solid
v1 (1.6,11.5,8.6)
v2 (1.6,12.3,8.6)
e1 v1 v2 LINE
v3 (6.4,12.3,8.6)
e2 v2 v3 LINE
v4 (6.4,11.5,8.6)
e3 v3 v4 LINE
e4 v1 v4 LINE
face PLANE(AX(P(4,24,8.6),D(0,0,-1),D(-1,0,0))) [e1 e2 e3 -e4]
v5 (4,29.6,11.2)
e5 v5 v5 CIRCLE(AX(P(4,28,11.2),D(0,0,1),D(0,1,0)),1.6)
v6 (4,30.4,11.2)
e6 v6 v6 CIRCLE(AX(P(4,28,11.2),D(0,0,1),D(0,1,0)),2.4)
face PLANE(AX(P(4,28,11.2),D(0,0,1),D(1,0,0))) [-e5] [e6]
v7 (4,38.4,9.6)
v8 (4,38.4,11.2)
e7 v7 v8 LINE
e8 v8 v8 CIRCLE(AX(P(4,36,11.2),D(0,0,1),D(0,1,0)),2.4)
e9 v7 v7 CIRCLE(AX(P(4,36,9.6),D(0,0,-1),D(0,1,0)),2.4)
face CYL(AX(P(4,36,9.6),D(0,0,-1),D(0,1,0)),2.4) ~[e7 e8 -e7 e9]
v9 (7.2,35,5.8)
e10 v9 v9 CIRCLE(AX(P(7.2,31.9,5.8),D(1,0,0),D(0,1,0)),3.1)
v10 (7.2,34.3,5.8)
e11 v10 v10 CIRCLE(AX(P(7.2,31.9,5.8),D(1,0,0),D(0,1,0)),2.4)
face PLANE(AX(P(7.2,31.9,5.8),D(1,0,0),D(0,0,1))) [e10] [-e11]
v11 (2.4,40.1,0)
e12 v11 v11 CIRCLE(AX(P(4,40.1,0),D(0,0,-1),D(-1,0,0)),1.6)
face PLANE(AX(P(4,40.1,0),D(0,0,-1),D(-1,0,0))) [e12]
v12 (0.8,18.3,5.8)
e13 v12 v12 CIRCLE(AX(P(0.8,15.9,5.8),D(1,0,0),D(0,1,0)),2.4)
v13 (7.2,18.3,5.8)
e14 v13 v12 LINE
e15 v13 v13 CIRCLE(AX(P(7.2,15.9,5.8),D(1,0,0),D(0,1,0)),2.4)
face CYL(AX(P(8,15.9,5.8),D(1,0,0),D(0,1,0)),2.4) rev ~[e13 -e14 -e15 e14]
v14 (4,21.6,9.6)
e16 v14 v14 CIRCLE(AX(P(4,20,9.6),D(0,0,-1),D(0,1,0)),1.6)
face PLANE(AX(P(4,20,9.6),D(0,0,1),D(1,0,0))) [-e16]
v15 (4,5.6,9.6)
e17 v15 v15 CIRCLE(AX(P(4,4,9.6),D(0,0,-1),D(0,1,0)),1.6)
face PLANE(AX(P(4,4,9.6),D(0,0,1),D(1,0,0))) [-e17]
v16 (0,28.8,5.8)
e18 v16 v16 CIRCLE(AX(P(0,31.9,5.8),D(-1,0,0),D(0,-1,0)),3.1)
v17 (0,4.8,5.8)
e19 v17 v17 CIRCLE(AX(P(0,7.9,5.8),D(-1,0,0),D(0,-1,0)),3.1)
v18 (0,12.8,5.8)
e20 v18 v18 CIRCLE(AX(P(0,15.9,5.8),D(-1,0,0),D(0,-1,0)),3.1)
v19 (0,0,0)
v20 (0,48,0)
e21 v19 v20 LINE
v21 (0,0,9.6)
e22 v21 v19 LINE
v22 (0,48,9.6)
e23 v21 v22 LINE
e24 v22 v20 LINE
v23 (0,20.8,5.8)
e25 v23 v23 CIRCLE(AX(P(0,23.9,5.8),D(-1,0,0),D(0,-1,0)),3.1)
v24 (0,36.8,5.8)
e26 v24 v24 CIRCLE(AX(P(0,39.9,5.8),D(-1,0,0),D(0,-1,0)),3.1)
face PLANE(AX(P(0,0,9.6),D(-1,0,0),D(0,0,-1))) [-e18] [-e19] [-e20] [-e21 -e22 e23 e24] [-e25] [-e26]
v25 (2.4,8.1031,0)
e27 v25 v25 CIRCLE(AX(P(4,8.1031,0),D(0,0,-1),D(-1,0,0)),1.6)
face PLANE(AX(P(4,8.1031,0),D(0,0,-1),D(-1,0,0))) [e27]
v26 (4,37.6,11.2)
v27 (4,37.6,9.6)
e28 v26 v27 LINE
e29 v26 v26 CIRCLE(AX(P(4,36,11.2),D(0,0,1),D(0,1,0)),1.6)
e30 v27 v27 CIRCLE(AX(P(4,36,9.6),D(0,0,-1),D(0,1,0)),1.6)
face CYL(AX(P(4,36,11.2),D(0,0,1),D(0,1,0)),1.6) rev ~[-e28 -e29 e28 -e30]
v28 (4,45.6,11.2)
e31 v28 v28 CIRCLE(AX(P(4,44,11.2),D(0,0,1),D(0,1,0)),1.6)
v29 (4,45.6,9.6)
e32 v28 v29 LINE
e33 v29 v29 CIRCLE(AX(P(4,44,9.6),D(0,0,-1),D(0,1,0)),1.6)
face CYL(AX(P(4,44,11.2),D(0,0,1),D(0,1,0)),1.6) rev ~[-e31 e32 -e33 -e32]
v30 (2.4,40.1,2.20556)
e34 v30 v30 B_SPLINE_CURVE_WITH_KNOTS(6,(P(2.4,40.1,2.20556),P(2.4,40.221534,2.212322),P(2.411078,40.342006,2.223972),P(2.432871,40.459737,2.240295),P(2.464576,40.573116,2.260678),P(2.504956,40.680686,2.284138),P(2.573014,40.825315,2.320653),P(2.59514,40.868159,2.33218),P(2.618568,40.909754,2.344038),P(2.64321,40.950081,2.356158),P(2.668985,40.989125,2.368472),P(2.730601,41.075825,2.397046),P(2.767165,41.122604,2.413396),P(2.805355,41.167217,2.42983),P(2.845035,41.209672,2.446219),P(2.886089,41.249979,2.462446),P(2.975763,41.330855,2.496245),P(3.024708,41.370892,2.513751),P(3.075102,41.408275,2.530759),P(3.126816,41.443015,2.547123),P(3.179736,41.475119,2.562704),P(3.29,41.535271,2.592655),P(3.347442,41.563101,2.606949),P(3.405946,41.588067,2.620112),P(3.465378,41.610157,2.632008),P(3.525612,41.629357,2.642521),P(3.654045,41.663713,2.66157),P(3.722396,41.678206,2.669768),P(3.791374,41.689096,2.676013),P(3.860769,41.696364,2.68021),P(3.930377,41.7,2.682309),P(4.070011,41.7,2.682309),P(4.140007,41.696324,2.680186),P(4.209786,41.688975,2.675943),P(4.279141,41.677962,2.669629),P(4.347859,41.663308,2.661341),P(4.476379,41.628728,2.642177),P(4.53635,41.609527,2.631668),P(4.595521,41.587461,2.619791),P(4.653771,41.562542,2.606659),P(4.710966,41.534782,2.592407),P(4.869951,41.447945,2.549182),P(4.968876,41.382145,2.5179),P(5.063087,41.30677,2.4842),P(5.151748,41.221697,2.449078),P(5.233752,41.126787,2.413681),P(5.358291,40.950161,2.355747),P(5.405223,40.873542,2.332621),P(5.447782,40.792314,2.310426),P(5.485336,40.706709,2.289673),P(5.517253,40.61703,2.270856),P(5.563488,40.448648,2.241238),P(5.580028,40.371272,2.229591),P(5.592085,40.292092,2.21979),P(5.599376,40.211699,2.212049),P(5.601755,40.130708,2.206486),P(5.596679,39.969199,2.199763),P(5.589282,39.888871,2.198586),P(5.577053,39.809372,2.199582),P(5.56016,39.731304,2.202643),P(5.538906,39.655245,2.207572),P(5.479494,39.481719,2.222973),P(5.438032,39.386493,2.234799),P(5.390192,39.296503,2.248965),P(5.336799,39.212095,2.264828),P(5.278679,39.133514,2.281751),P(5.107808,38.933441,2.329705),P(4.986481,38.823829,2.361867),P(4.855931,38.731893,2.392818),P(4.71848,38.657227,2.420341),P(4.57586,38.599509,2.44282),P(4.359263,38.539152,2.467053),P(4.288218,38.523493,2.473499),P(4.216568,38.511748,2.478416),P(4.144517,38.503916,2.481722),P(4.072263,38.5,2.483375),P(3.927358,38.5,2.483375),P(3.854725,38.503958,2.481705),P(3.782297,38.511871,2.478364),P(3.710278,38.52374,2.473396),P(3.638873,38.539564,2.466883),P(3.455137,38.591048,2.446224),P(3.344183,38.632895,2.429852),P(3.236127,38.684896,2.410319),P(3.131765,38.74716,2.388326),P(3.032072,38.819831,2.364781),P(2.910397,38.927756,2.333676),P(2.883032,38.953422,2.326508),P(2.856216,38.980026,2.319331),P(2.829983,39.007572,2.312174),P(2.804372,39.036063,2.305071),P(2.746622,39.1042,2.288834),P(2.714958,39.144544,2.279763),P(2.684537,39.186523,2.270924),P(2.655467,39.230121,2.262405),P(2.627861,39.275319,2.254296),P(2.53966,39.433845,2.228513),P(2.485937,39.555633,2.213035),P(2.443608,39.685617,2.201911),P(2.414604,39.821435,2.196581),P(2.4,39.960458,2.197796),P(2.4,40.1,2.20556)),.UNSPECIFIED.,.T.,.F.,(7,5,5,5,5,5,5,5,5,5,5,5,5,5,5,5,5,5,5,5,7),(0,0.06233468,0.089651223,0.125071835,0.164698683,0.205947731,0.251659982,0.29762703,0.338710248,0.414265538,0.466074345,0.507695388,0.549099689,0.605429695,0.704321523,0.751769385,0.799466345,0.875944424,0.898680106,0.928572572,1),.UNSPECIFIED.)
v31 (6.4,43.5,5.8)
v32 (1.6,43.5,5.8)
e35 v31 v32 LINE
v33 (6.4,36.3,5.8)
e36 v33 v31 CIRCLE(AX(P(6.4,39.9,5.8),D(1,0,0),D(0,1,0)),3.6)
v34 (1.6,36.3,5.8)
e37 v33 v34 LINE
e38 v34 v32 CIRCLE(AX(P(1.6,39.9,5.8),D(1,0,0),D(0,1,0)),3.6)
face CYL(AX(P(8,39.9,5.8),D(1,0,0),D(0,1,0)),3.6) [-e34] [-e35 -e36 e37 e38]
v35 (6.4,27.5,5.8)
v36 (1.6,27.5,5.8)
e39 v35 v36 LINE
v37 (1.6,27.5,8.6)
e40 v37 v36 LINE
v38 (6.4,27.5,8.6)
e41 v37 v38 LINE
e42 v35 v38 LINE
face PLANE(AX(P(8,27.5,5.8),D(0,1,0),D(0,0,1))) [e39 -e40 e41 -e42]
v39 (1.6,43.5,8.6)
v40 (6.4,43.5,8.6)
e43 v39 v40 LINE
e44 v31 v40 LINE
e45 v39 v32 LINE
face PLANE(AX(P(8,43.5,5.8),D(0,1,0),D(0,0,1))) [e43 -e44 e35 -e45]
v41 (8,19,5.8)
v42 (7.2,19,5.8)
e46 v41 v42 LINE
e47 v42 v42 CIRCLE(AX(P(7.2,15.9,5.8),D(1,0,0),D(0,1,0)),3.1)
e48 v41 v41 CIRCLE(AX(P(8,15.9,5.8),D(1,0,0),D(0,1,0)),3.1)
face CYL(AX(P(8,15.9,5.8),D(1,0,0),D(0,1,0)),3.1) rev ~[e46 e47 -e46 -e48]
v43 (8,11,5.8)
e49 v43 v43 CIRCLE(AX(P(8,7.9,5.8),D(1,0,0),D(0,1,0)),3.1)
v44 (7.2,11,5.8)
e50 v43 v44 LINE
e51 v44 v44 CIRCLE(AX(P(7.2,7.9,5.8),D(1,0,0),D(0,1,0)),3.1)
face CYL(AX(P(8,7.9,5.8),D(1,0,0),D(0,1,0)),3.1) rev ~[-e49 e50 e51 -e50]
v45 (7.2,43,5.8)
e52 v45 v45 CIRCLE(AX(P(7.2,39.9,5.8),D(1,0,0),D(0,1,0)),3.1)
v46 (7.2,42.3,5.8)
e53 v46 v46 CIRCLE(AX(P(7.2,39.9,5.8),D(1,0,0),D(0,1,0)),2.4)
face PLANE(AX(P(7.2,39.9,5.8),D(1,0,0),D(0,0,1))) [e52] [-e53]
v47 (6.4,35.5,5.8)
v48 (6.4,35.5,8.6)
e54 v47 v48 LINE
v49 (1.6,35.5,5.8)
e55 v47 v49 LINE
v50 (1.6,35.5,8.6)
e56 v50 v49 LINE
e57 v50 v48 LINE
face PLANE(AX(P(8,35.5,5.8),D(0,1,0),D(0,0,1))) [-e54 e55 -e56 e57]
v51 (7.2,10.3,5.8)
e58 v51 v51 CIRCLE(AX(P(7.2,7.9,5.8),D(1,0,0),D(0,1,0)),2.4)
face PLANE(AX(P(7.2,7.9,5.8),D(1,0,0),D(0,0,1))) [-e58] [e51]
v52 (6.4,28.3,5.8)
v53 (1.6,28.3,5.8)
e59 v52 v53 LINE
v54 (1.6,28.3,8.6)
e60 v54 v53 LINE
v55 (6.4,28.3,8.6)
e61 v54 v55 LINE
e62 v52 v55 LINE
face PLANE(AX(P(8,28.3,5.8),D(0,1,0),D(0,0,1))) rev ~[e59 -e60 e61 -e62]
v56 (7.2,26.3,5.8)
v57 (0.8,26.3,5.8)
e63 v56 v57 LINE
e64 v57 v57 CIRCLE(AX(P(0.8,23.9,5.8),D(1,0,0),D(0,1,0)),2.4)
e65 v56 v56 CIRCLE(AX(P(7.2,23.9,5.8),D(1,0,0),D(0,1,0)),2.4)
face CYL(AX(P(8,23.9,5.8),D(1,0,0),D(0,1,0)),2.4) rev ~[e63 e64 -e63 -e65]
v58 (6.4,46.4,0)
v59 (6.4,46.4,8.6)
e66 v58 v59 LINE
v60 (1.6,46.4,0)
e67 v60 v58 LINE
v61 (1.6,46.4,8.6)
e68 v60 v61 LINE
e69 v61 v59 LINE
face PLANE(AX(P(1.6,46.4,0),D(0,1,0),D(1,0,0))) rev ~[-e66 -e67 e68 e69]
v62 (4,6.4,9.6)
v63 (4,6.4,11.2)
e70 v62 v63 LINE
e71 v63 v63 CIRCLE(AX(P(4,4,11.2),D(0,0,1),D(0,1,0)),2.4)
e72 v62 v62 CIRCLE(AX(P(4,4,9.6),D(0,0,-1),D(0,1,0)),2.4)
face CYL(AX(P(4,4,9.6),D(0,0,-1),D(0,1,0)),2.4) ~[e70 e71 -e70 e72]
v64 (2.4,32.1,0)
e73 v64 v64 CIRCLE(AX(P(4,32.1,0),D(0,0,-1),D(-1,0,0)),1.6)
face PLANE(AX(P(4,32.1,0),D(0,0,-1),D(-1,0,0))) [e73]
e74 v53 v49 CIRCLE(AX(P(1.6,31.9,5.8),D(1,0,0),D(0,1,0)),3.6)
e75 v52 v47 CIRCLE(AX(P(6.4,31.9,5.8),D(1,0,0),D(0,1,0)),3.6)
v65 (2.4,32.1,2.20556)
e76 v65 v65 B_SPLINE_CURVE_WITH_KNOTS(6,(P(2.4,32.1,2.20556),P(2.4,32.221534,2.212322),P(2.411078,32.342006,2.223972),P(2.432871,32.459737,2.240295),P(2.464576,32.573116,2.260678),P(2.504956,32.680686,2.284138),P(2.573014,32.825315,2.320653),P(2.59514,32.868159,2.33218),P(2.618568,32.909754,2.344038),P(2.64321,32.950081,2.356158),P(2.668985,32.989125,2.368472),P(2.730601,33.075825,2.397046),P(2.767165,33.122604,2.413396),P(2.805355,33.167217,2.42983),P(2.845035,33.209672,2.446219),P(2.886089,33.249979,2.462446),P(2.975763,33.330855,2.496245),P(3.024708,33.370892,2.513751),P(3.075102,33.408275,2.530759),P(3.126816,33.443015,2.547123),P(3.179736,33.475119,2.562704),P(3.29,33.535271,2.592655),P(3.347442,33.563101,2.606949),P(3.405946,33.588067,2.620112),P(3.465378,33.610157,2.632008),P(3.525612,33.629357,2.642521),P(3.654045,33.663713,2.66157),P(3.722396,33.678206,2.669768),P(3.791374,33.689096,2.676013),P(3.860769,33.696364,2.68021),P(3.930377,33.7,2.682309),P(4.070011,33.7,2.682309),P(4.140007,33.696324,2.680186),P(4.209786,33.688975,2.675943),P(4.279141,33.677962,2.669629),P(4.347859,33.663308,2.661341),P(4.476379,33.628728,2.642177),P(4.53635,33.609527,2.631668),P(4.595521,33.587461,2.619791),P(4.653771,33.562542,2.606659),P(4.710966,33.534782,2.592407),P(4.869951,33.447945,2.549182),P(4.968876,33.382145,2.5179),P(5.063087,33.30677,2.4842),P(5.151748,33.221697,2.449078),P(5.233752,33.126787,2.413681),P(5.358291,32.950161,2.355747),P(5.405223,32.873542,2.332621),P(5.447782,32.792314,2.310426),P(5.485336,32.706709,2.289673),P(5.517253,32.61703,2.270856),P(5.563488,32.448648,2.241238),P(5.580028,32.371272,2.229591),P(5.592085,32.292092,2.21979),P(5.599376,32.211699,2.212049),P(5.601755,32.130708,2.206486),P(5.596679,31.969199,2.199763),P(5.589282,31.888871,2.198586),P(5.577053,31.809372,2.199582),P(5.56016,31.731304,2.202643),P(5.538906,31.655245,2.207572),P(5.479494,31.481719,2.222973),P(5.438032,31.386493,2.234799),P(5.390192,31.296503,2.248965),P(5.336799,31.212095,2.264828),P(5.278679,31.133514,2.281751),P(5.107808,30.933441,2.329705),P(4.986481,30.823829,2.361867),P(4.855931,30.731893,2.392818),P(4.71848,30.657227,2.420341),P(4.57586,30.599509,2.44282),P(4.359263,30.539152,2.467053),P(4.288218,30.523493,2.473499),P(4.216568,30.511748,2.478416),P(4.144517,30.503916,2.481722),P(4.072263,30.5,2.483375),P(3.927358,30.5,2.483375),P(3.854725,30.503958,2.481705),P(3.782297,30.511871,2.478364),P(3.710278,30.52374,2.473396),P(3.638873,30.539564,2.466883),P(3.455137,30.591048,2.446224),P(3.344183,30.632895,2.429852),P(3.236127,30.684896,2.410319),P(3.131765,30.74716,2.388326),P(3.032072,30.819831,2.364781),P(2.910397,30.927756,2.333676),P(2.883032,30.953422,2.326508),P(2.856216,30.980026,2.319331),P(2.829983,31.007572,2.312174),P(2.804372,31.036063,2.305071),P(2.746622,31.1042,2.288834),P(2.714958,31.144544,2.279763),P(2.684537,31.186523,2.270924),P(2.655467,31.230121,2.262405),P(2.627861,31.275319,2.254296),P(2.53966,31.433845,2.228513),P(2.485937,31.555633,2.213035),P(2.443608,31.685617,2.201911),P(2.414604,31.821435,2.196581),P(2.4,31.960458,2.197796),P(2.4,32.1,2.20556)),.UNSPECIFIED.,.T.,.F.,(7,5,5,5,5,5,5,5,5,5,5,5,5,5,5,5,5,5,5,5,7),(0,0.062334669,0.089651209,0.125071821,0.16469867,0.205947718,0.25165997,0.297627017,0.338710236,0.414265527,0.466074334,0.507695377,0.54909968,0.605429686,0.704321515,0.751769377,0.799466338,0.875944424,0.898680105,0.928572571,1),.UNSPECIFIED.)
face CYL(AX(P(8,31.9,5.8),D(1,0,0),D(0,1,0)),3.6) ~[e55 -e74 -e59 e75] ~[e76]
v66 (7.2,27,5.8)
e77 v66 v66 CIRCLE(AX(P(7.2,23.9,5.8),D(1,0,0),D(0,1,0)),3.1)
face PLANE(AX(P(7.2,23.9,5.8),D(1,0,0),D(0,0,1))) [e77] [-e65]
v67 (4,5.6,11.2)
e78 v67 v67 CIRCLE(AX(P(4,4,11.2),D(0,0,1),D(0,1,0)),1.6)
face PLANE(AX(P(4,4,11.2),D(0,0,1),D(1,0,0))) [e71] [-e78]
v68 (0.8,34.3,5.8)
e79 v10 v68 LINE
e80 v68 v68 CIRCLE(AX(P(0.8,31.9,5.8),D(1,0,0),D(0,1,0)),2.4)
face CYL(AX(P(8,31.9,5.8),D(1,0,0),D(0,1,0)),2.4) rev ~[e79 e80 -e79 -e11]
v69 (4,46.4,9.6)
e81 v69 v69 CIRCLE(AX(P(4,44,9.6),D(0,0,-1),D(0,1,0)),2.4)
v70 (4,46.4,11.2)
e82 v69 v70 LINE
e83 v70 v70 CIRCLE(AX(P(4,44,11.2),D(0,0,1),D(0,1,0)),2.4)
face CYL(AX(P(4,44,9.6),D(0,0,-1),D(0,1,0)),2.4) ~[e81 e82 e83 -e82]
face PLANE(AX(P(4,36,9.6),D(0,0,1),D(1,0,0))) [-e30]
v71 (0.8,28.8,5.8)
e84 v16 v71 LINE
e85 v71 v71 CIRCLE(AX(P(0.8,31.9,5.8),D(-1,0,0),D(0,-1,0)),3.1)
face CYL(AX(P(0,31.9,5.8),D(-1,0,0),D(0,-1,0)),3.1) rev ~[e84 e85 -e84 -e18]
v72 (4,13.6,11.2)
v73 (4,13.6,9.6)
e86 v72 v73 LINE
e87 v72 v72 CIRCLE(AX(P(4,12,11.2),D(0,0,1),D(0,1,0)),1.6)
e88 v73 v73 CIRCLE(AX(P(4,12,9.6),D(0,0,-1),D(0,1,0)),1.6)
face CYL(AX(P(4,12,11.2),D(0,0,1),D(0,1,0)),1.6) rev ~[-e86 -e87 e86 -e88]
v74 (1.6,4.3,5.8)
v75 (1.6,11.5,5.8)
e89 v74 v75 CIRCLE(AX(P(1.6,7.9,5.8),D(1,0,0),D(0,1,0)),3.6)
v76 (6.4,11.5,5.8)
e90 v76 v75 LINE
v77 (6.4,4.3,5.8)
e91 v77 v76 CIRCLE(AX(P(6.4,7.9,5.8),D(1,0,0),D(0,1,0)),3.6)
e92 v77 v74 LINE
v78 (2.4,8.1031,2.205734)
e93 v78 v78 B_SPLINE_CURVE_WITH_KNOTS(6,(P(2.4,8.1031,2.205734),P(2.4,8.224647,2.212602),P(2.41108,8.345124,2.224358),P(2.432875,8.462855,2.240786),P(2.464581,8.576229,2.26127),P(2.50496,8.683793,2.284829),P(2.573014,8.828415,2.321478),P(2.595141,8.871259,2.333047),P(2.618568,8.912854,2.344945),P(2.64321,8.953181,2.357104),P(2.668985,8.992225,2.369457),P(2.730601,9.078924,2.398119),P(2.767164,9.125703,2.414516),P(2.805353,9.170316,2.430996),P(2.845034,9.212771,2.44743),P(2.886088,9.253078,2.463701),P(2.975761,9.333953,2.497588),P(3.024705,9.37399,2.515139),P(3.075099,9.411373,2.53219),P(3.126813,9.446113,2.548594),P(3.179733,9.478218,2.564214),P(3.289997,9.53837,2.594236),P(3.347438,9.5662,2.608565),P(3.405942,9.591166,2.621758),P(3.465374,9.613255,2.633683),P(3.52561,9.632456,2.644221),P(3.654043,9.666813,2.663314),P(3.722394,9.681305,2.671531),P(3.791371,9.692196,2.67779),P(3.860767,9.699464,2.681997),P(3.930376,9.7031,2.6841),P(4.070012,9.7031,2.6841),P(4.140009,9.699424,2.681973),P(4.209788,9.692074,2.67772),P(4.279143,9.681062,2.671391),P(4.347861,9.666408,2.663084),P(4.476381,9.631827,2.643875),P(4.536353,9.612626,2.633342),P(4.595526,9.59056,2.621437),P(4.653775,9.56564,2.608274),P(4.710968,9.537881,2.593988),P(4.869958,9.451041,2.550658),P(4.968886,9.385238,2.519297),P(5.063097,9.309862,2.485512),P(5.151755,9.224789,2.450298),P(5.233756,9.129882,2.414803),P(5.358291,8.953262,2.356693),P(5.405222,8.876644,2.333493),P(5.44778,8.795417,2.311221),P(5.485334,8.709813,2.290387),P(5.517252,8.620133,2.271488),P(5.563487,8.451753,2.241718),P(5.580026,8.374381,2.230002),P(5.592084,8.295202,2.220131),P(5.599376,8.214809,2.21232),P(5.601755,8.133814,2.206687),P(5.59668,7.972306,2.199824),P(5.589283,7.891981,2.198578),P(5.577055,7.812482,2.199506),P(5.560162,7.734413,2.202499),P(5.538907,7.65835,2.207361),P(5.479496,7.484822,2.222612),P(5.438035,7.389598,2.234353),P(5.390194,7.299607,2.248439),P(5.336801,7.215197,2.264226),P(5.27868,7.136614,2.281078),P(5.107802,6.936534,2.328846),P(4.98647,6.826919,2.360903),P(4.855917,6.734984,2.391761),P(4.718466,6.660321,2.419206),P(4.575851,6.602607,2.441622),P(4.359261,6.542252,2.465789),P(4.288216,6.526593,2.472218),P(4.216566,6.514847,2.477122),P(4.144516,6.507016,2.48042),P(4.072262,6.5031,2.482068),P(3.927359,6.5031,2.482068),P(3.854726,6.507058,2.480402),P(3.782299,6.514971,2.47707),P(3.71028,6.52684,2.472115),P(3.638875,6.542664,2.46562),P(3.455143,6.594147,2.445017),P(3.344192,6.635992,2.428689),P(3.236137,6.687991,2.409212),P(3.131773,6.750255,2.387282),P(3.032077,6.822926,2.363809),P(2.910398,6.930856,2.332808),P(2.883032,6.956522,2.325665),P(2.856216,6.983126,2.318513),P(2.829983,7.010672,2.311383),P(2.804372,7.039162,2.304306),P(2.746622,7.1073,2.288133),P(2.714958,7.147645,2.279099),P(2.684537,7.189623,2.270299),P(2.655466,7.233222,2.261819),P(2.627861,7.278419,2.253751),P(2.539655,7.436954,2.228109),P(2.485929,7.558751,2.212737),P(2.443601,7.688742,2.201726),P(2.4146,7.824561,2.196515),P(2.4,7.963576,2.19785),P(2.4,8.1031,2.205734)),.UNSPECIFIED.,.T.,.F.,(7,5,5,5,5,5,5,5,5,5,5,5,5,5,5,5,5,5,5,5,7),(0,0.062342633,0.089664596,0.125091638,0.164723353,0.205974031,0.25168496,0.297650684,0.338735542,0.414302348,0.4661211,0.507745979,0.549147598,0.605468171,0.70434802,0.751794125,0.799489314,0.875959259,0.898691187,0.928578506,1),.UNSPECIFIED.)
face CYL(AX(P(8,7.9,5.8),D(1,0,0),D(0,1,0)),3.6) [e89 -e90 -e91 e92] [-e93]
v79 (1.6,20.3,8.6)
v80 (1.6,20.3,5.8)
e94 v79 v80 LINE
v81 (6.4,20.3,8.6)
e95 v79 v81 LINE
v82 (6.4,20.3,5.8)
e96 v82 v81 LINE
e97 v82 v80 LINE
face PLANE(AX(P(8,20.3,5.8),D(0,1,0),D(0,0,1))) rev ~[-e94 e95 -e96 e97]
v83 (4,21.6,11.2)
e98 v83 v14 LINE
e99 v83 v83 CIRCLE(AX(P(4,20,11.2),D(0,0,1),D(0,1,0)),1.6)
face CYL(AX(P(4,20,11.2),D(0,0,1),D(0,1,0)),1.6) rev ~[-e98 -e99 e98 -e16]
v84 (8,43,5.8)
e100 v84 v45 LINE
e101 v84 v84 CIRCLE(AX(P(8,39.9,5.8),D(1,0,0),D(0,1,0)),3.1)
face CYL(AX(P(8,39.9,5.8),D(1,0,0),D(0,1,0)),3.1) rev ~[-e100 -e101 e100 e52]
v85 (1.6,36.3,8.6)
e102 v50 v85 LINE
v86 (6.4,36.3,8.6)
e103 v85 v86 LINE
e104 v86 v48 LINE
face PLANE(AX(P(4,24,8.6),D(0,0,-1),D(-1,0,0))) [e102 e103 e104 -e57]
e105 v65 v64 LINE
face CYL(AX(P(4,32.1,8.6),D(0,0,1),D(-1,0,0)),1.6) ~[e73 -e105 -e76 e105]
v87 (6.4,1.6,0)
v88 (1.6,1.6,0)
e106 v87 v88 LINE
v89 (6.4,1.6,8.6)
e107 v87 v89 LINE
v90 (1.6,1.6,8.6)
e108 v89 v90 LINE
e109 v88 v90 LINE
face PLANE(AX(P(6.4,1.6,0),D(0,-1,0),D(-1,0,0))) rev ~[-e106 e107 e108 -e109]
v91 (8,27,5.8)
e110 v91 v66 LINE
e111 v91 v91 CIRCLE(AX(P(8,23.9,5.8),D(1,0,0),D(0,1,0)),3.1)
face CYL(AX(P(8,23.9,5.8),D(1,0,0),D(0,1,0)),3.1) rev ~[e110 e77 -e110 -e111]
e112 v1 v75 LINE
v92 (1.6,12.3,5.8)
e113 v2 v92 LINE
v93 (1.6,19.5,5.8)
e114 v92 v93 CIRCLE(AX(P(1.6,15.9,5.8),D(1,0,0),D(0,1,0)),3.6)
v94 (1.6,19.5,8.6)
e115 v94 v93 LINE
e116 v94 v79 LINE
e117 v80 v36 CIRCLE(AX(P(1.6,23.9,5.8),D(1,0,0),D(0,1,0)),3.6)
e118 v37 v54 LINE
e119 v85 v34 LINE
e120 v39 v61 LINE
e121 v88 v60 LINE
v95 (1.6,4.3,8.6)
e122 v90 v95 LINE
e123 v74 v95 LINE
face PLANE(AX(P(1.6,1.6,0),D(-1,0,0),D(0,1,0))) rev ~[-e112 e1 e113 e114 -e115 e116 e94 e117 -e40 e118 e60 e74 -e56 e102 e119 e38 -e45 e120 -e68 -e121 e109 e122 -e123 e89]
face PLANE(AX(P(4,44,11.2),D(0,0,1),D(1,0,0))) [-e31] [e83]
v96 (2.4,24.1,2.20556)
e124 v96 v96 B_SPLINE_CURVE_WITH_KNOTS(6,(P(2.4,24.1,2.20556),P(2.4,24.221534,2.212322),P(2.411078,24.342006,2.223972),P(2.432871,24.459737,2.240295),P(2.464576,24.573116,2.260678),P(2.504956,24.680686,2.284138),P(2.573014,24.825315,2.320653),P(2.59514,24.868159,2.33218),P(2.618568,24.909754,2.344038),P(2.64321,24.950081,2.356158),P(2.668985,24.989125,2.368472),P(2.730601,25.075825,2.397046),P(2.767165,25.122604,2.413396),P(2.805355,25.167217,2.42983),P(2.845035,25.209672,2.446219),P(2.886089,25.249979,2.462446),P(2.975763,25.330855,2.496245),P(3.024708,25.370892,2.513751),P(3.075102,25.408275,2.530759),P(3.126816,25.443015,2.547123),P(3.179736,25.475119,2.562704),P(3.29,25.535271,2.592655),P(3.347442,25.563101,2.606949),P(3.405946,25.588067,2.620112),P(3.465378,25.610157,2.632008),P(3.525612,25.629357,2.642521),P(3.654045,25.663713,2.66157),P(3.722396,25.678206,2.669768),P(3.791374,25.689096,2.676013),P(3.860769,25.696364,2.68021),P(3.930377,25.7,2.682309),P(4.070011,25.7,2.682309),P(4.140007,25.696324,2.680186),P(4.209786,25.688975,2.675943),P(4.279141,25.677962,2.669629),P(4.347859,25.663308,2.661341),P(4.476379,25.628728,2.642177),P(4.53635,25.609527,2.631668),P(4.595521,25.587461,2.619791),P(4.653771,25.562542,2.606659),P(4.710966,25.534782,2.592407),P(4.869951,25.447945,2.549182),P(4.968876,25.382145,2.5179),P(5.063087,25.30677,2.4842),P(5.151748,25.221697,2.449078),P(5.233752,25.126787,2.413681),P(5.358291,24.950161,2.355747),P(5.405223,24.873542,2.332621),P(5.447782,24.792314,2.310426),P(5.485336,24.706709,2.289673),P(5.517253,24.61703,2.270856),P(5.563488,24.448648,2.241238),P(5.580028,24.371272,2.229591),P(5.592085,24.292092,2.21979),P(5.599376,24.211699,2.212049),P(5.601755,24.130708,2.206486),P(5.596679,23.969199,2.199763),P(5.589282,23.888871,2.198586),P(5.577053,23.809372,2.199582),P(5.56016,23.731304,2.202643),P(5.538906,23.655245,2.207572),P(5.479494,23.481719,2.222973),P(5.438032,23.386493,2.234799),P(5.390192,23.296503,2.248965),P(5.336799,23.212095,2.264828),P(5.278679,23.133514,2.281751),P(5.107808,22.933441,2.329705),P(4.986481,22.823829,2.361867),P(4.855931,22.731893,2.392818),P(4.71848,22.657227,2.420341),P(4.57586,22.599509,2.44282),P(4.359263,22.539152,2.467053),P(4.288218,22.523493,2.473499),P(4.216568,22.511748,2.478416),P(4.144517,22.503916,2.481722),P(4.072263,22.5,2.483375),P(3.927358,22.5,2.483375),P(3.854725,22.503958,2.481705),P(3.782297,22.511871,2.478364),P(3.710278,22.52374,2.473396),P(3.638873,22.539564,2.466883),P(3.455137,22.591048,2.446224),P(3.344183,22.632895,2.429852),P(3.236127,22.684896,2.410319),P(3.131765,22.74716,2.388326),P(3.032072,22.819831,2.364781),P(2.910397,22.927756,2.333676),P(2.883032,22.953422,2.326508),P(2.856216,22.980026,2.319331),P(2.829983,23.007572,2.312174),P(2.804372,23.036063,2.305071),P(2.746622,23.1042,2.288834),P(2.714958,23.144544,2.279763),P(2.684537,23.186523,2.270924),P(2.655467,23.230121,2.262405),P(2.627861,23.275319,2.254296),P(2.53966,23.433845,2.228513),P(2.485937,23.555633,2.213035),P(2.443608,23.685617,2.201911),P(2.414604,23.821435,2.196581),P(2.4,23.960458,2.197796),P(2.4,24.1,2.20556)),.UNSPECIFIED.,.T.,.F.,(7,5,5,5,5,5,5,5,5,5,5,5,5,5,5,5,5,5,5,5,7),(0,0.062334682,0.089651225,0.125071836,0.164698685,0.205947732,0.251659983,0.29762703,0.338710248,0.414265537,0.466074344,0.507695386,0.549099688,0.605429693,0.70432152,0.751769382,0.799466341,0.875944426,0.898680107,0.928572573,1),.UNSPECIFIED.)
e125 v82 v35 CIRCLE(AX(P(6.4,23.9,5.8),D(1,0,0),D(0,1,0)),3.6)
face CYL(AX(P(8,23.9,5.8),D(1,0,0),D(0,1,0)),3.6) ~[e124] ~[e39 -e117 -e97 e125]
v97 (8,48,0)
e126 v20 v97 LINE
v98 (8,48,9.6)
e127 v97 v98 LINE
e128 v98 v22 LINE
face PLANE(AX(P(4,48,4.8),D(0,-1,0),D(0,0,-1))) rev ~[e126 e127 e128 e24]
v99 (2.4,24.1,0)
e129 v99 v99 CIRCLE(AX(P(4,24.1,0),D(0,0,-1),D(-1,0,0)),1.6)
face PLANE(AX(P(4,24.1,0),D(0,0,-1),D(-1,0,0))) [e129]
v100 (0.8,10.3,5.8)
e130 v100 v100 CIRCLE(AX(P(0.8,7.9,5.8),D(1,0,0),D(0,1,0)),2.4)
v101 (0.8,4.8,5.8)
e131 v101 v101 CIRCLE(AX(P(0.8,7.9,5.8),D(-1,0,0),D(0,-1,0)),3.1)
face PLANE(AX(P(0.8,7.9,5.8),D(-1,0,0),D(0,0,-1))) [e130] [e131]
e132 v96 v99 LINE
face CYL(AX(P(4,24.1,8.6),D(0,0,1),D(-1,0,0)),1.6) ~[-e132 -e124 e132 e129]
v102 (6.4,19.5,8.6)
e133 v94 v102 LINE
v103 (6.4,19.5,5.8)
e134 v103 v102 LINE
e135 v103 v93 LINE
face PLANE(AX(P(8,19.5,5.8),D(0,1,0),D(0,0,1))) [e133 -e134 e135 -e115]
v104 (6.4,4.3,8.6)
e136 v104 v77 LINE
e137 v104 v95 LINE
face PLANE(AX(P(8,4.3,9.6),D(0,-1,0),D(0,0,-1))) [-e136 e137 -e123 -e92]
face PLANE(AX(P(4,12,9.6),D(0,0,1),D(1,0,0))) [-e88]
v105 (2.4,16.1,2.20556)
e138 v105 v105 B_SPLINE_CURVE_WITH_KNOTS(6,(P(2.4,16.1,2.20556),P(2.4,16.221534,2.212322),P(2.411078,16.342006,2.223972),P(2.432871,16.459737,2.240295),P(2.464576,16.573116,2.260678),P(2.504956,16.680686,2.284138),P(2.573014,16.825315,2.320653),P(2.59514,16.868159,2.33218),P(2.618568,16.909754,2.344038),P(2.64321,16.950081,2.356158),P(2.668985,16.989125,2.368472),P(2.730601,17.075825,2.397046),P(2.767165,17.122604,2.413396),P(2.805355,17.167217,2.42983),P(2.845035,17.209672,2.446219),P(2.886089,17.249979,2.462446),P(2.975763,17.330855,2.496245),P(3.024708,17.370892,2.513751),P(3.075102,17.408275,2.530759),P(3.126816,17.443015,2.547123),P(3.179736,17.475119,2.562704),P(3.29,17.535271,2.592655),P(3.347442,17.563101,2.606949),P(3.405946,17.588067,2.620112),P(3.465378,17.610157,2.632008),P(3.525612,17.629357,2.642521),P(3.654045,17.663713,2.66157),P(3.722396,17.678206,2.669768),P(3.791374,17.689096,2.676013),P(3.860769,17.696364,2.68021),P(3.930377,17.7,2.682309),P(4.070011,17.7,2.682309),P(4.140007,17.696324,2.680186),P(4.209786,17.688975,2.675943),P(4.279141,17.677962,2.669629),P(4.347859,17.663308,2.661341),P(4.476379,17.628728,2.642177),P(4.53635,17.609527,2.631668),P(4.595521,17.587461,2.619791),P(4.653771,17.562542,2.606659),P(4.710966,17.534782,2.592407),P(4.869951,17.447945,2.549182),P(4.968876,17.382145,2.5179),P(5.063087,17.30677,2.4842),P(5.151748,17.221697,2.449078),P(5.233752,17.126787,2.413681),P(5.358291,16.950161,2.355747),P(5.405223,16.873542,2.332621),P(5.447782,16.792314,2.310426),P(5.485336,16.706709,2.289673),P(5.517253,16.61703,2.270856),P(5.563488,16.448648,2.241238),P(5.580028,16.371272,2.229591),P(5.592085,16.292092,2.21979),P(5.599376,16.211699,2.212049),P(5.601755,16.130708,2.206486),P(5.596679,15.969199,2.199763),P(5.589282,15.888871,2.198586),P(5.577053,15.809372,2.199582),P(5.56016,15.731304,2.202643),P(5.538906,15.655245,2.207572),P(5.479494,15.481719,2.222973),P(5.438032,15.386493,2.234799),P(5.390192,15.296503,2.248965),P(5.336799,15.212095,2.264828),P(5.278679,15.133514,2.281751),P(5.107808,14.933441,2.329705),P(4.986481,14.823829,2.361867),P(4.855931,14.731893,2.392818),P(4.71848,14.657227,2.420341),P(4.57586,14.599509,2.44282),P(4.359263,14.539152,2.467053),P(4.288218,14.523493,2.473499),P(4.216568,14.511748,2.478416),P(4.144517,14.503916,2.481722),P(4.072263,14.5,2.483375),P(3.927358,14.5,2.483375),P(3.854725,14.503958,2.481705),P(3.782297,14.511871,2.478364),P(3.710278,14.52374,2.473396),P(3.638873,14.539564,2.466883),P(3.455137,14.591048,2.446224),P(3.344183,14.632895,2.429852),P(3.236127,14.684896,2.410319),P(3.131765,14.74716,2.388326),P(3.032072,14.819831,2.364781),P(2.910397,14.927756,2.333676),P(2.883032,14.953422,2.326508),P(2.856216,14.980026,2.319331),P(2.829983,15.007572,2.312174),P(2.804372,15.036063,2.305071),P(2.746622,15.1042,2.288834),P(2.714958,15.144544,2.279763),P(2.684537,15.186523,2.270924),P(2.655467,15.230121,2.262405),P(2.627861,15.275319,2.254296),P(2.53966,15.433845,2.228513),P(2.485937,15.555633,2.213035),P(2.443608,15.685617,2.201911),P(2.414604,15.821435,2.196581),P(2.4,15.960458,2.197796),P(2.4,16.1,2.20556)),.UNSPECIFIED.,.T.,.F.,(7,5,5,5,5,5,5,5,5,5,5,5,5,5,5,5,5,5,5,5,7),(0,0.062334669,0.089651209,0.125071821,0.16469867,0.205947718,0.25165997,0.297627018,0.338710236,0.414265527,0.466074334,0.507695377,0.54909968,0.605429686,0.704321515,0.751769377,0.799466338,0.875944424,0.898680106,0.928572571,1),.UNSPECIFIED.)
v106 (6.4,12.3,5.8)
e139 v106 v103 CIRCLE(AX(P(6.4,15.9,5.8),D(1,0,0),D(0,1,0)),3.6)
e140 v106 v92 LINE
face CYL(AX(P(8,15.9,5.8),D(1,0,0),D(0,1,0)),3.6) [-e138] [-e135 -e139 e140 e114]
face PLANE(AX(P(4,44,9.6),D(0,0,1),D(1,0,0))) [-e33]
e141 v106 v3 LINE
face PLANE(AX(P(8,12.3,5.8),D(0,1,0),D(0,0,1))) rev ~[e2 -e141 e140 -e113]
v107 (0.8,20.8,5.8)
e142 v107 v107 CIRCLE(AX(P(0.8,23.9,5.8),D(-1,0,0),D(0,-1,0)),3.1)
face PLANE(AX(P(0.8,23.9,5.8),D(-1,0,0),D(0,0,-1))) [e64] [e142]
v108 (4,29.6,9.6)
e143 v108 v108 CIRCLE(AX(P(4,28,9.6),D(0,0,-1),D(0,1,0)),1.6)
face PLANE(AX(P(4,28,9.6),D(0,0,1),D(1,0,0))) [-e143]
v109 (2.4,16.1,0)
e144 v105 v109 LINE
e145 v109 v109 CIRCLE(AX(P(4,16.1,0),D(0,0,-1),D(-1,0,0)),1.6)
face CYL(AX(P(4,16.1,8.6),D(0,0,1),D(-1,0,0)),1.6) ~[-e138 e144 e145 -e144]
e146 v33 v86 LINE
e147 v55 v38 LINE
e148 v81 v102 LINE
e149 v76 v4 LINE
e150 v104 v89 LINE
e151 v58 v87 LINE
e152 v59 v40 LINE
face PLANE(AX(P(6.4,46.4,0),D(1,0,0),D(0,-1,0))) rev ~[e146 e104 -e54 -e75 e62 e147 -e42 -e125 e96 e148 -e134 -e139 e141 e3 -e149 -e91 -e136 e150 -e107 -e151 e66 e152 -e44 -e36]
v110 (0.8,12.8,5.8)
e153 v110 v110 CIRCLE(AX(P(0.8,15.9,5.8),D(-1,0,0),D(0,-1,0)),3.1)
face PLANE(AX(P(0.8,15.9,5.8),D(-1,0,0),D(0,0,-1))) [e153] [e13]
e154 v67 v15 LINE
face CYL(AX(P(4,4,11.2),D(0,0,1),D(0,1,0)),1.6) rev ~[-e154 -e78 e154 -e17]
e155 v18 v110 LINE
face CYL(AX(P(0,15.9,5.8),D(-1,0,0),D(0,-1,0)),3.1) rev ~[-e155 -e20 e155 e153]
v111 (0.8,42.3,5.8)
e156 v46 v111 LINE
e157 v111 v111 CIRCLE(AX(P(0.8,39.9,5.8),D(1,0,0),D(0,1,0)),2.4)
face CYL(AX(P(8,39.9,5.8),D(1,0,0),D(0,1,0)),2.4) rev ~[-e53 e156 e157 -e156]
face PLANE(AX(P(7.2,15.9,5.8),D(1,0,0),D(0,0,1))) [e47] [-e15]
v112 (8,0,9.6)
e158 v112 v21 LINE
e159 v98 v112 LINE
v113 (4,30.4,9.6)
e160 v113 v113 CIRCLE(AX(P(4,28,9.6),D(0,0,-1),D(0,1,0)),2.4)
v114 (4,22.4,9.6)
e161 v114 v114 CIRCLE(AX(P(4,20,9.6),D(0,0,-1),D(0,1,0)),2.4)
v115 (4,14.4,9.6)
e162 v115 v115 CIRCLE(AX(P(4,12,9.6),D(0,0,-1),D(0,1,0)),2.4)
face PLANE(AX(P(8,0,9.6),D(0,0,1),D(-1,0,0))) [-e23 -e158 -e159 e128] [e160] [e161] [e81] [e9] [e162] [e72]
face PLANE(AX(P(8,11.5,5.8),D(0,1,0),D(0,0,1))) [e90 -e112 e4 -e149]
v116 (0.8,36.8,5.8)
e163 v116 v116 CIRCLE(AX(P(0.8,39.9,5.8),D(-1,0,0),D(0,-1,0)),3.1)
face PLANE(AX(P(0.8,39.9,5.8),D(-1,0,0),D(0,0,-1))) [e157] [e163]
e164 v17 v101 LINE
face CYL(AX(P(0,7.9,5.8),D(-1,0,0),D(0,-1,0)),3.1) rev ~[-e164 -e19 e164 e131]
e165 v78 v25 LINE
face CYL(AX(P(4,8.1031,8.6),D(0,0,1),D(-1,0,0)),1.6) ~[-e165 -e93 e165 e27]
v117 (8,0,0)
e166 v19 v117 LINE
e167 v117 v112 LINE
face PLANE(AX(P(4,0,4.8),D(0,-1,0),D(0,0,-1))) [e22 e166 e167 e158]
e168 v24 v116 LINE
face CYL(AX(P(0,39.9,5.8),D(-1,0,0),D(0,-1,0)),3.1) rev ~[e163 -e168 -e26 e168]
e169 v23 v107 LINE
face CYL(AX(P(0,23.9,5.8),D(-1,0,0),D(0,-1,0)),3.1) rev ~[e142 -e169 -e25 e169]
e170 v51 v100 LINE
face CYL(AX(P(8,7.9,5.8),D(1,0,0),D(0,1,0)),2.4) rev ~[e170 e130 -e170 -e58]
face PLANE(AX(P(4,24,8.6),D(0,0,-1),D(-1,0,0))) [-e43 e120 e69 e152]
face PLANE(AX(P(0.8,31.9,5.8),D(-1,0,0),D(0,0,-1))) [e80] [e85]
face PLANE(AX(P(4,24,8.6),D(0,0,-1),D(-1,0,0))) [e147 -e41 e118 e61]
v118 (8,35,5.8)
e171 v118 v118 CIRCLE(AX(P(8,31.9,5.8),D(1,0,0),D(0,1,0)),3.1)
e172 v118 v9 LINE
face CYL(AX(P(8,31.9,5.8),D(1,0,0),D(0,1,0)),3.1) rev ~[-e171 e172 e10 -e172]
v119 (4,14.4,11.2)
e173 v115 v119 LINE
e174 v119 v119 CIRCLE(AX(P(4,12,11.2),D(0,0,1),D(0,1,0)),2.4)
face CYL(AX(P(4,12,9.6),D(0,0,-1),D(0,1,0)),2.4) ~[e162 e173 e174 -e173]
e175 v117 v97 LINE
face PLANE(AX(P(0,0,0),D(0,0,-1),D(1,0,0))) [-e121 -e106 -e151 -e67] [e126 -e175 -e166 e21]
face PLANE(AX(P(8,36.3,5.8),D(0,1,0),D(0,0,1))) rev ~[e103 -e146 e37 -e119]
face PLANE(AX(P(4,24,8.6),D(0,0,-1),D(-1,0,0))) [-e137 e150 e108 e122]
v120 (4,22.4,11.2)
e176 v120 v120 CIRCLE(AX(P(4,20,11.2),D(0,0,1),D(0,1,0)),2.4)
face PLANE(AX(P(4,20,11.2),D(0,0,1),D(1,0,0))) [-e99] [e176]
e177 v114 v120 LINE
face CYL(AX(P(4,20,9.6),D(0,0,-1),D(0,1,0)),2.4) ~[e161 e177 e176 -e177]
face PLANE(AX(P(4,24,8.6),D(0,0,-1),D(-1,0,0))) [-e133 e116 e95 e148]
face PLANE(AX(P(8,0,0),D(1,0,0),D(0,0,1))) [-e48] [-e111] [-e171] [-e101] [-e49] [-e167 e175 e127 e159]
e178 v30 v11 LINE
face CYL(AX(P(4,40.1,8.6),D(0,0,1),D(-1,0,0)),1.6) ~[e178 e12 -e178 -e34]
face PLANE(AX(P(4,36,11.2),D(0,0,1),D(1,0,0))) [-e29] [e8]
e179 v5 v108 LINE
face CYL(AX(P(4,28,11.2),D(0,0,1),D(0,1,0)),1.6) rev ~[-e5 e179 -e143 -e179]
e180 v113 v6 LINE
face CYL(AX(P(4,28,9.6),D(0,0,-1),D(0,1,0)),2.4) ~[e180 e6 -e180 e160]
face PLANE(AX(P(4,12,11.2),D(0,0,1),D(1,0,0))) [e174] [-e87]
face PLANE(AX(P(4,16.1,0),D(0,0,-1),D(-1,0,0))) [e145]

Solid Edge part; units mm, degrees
sketch "Sketch1" plane through (0, 0, 0) normal (0, -1, 0) x (1, 0, 0)
  line L0 (0, 0) -> (8, 0)
  line L1 (8, 0) -> (8, 9.6)
  line L2 (8, 9.6) -> (0, 9.6)
  line L3 (0, 9.6) -> (0, 0)
  dimension "D1" = 8
  dimension "D2" = 9.6
extrude "Protrusion1" add sketch "Sketch1" against normal blind 48
sketch "Sketch2" plane through (3.9, 23.9, 9.6) normal (0, 0, 1) x (0, 1, 0)
  circle A0 centre (-11.9, -0.1) radius 2.4
  circle A1 centre (-3.9, -0.1) radius 2.4
  circle A2 centre (4.1, -0.1) radius 2.4
  circle A3 centre (12.1, -0.1) radius 2.4
  circle A4 centre (20.1, -0.1) radius 2.4
  circle A5 centre (-19.9, -0.1) radius 2.4
  dimension "D1" = 4
  dimension "D2" = 8
  dimension "D3" = 8
  dimension "D4" = 8
  dimension "D5" = 8
  dimension "D6" = 8
  dimension "D7" = 3.9
extrude "ExtrudedProtrusion_2" add sketch "Sketch2" along normal blind 1.6
sketch "Sketch3" plane through (3.9, 23.9, 0) normal (0, 0, -1) x (0, 1, 0)
  line L0 (-22.3, -2.3) -> (22.5, -2.3)
  line L1 (22.5, -2.3) -> (22.5, 2.5)
  line L2 (22.5, 2.5) -> (-22.3, 2.5)
  line L3 (-22.3, 2.5) -> (-22.3, -2.3)
  dimension "D1" = 1.6
  dimension "D2" = 1.6
  dimension "D3" = 1.6
  dimension "D4" = 1.6
extrude "ExtrudedCutout_1" cut sketch "Sketch3" against normal blind 8.6
sketch "Sketch4" plane through (3.9, 3.9, 11.2) normal (0, 0, 1) x (0, 1, 0)
  circle A0 centre (0.1, -0.1) radius 1.6
  circle A1 centre (8.1, -0.1) radius 1.6
  circle A2 centre (16.1, -0.1) radius 1.6
  circle A3 centre (24.1, -0.1) radius 1.6
  circle A4 centre (32.1, -0.1) radius 1.6
  circle A5 centre (40.1, -0.1) radius 1.6
extrude "ExtrudedCutout_2" cut sketch "Sketch4" against normal blind 1.6
sketch "Sketch5" plane through (8, 23.9, 4.8) normal (1, 0, 0) x (0, 1, 0)
  line L0 (-11.6, 1) -> (-11.6, 4.8)
  line L1 (-11.6, 4.8) -> (-4.4, 4.8)
  line L2 (-4.4, 1) -> (-4.4, 4.8)
  arc A0 (-11.6, 1) -> (-4.4, 1) centre (-8, 1) ccw
  line L3 (-3.6, 1) -> (-3.6, 4.8)
  line L4 (-3.6, 4.8) -> (3.6, 4.8)
  line L5 (3.6, 1) -> (3.6, 4.8)
  arc A1 (3.6, 1) -> (-3.6, 1) centre (0, 1) cw
  line L6 (4.4, 1) -> (4.4, 4.8)
  line L7 (4.4, 4.8) -> (11.6, 4.8)
  line L8 (11.6, 1) -> (11.6, 4.8)
  arc A2 (11.6, 1) -> (4.4, 1) centre (8, 1) cw
  line L9 (12.4, 1) -> (12.4, 4.8)
  line L10 (12.4, 4.8) -> (19.6, 4.8)
  line L11 (19.6, 1) -> (19.6, 4.8)
  arc A3 (12.4, 1) -> (19.6, 1) centre (16, 1) ccw
  line L12 (-12.4, 1) -> (-12.4, 4.8)
  line L13 (-19.6, 4.8) -> (-12.4, 4.8)
  line L14 (-19.6, 4.8) -> (-19.6, 1)
  arc A4 (-19.6, 1) -> (-12.4, 1) centre (-16, 1) ccw
extrude "ExtrudedProtrusion_3" add sketch "Sketch5" against normal blind 7.8
sketch "Sketch6" plane through (3.9, 19.9, 8.6) normal (0, 0, -1) x (-1, 0, 0)
  circle A0 centre (-0.1, 20.2) radius 1.6
  circle A1 centre (-0.1, 12.2) radius 1.6
  circle A2 centre (-0.1, 4.2) radius 1.6
  circle A3 centre (-0.1, -3.8) radius 1.6
  circle A4 centre (-0.1, -11.7969) radius 1.6
  dimension "D1" = 7.9
  dimension "D2" = 8
  dimension "D3" = 8
  dimension "D4" = 8
  dimension "D5" = 7.9969
extrude "ExtrudedProtrusion_4" add sketch "Sketch6" along normal blind 8.6
sketch "Sketch7" plane through (8, 23.9, 4.8) normal (1, 0, 0) x (0, 1, 0)
  circle A0 centre (-16, 1) radius 2.4
  circle A1 centre (-8, 1) radius 2.4
  circle A2 centre (0, 1) radius 2.4
  circle A3 centre (8, 1) radius 2.4
  circle A4 centre (16, 1) radius 2.4
  dimension "D1" = 7.9
  dimension "D2" = 8
  dimension "D3" = 8
  dimension "D4" = 8
  dimension "D5" = 8
extrude "ExtrudedCutout_3" cut sketch "Sketch7" against normal blind 20
sketch "Sketch8" plane through (8, 23.9, 4.8) normal (1, 0, 0) x (0, 1, 0)
  circle A0 centre (-16, 1) radius 3.1
  circle A1 centre (-8, 1) radius 3.1
  circle A2 centre (0, 1) radius 3.1
  circle A3 centre (8, 1) radius 3.1
  circle A4 centre (16, 1) radius 3.1
extrude "ExtrudedCutout_4" cut sketch "Sketch8" against normal blind 0.8
sketch "Sketch9" plane through (0, 23.9, 4.8) normal (-1, 0, 0) x (0, -1, 0)
  circle A0 centre (-16, 1) radius 3.1
  circle A1 centre (-8, 1) radius 3.1
  circle A2 centre (0, 1) radius 3.1
  circle A3 centre (8, 1) radius 3.1
  circle A4 centre (16, 1) radius 3.1
extrude "ExtrudedCutout_5" cut sketch "Sketch9" against normal blind 0.8
